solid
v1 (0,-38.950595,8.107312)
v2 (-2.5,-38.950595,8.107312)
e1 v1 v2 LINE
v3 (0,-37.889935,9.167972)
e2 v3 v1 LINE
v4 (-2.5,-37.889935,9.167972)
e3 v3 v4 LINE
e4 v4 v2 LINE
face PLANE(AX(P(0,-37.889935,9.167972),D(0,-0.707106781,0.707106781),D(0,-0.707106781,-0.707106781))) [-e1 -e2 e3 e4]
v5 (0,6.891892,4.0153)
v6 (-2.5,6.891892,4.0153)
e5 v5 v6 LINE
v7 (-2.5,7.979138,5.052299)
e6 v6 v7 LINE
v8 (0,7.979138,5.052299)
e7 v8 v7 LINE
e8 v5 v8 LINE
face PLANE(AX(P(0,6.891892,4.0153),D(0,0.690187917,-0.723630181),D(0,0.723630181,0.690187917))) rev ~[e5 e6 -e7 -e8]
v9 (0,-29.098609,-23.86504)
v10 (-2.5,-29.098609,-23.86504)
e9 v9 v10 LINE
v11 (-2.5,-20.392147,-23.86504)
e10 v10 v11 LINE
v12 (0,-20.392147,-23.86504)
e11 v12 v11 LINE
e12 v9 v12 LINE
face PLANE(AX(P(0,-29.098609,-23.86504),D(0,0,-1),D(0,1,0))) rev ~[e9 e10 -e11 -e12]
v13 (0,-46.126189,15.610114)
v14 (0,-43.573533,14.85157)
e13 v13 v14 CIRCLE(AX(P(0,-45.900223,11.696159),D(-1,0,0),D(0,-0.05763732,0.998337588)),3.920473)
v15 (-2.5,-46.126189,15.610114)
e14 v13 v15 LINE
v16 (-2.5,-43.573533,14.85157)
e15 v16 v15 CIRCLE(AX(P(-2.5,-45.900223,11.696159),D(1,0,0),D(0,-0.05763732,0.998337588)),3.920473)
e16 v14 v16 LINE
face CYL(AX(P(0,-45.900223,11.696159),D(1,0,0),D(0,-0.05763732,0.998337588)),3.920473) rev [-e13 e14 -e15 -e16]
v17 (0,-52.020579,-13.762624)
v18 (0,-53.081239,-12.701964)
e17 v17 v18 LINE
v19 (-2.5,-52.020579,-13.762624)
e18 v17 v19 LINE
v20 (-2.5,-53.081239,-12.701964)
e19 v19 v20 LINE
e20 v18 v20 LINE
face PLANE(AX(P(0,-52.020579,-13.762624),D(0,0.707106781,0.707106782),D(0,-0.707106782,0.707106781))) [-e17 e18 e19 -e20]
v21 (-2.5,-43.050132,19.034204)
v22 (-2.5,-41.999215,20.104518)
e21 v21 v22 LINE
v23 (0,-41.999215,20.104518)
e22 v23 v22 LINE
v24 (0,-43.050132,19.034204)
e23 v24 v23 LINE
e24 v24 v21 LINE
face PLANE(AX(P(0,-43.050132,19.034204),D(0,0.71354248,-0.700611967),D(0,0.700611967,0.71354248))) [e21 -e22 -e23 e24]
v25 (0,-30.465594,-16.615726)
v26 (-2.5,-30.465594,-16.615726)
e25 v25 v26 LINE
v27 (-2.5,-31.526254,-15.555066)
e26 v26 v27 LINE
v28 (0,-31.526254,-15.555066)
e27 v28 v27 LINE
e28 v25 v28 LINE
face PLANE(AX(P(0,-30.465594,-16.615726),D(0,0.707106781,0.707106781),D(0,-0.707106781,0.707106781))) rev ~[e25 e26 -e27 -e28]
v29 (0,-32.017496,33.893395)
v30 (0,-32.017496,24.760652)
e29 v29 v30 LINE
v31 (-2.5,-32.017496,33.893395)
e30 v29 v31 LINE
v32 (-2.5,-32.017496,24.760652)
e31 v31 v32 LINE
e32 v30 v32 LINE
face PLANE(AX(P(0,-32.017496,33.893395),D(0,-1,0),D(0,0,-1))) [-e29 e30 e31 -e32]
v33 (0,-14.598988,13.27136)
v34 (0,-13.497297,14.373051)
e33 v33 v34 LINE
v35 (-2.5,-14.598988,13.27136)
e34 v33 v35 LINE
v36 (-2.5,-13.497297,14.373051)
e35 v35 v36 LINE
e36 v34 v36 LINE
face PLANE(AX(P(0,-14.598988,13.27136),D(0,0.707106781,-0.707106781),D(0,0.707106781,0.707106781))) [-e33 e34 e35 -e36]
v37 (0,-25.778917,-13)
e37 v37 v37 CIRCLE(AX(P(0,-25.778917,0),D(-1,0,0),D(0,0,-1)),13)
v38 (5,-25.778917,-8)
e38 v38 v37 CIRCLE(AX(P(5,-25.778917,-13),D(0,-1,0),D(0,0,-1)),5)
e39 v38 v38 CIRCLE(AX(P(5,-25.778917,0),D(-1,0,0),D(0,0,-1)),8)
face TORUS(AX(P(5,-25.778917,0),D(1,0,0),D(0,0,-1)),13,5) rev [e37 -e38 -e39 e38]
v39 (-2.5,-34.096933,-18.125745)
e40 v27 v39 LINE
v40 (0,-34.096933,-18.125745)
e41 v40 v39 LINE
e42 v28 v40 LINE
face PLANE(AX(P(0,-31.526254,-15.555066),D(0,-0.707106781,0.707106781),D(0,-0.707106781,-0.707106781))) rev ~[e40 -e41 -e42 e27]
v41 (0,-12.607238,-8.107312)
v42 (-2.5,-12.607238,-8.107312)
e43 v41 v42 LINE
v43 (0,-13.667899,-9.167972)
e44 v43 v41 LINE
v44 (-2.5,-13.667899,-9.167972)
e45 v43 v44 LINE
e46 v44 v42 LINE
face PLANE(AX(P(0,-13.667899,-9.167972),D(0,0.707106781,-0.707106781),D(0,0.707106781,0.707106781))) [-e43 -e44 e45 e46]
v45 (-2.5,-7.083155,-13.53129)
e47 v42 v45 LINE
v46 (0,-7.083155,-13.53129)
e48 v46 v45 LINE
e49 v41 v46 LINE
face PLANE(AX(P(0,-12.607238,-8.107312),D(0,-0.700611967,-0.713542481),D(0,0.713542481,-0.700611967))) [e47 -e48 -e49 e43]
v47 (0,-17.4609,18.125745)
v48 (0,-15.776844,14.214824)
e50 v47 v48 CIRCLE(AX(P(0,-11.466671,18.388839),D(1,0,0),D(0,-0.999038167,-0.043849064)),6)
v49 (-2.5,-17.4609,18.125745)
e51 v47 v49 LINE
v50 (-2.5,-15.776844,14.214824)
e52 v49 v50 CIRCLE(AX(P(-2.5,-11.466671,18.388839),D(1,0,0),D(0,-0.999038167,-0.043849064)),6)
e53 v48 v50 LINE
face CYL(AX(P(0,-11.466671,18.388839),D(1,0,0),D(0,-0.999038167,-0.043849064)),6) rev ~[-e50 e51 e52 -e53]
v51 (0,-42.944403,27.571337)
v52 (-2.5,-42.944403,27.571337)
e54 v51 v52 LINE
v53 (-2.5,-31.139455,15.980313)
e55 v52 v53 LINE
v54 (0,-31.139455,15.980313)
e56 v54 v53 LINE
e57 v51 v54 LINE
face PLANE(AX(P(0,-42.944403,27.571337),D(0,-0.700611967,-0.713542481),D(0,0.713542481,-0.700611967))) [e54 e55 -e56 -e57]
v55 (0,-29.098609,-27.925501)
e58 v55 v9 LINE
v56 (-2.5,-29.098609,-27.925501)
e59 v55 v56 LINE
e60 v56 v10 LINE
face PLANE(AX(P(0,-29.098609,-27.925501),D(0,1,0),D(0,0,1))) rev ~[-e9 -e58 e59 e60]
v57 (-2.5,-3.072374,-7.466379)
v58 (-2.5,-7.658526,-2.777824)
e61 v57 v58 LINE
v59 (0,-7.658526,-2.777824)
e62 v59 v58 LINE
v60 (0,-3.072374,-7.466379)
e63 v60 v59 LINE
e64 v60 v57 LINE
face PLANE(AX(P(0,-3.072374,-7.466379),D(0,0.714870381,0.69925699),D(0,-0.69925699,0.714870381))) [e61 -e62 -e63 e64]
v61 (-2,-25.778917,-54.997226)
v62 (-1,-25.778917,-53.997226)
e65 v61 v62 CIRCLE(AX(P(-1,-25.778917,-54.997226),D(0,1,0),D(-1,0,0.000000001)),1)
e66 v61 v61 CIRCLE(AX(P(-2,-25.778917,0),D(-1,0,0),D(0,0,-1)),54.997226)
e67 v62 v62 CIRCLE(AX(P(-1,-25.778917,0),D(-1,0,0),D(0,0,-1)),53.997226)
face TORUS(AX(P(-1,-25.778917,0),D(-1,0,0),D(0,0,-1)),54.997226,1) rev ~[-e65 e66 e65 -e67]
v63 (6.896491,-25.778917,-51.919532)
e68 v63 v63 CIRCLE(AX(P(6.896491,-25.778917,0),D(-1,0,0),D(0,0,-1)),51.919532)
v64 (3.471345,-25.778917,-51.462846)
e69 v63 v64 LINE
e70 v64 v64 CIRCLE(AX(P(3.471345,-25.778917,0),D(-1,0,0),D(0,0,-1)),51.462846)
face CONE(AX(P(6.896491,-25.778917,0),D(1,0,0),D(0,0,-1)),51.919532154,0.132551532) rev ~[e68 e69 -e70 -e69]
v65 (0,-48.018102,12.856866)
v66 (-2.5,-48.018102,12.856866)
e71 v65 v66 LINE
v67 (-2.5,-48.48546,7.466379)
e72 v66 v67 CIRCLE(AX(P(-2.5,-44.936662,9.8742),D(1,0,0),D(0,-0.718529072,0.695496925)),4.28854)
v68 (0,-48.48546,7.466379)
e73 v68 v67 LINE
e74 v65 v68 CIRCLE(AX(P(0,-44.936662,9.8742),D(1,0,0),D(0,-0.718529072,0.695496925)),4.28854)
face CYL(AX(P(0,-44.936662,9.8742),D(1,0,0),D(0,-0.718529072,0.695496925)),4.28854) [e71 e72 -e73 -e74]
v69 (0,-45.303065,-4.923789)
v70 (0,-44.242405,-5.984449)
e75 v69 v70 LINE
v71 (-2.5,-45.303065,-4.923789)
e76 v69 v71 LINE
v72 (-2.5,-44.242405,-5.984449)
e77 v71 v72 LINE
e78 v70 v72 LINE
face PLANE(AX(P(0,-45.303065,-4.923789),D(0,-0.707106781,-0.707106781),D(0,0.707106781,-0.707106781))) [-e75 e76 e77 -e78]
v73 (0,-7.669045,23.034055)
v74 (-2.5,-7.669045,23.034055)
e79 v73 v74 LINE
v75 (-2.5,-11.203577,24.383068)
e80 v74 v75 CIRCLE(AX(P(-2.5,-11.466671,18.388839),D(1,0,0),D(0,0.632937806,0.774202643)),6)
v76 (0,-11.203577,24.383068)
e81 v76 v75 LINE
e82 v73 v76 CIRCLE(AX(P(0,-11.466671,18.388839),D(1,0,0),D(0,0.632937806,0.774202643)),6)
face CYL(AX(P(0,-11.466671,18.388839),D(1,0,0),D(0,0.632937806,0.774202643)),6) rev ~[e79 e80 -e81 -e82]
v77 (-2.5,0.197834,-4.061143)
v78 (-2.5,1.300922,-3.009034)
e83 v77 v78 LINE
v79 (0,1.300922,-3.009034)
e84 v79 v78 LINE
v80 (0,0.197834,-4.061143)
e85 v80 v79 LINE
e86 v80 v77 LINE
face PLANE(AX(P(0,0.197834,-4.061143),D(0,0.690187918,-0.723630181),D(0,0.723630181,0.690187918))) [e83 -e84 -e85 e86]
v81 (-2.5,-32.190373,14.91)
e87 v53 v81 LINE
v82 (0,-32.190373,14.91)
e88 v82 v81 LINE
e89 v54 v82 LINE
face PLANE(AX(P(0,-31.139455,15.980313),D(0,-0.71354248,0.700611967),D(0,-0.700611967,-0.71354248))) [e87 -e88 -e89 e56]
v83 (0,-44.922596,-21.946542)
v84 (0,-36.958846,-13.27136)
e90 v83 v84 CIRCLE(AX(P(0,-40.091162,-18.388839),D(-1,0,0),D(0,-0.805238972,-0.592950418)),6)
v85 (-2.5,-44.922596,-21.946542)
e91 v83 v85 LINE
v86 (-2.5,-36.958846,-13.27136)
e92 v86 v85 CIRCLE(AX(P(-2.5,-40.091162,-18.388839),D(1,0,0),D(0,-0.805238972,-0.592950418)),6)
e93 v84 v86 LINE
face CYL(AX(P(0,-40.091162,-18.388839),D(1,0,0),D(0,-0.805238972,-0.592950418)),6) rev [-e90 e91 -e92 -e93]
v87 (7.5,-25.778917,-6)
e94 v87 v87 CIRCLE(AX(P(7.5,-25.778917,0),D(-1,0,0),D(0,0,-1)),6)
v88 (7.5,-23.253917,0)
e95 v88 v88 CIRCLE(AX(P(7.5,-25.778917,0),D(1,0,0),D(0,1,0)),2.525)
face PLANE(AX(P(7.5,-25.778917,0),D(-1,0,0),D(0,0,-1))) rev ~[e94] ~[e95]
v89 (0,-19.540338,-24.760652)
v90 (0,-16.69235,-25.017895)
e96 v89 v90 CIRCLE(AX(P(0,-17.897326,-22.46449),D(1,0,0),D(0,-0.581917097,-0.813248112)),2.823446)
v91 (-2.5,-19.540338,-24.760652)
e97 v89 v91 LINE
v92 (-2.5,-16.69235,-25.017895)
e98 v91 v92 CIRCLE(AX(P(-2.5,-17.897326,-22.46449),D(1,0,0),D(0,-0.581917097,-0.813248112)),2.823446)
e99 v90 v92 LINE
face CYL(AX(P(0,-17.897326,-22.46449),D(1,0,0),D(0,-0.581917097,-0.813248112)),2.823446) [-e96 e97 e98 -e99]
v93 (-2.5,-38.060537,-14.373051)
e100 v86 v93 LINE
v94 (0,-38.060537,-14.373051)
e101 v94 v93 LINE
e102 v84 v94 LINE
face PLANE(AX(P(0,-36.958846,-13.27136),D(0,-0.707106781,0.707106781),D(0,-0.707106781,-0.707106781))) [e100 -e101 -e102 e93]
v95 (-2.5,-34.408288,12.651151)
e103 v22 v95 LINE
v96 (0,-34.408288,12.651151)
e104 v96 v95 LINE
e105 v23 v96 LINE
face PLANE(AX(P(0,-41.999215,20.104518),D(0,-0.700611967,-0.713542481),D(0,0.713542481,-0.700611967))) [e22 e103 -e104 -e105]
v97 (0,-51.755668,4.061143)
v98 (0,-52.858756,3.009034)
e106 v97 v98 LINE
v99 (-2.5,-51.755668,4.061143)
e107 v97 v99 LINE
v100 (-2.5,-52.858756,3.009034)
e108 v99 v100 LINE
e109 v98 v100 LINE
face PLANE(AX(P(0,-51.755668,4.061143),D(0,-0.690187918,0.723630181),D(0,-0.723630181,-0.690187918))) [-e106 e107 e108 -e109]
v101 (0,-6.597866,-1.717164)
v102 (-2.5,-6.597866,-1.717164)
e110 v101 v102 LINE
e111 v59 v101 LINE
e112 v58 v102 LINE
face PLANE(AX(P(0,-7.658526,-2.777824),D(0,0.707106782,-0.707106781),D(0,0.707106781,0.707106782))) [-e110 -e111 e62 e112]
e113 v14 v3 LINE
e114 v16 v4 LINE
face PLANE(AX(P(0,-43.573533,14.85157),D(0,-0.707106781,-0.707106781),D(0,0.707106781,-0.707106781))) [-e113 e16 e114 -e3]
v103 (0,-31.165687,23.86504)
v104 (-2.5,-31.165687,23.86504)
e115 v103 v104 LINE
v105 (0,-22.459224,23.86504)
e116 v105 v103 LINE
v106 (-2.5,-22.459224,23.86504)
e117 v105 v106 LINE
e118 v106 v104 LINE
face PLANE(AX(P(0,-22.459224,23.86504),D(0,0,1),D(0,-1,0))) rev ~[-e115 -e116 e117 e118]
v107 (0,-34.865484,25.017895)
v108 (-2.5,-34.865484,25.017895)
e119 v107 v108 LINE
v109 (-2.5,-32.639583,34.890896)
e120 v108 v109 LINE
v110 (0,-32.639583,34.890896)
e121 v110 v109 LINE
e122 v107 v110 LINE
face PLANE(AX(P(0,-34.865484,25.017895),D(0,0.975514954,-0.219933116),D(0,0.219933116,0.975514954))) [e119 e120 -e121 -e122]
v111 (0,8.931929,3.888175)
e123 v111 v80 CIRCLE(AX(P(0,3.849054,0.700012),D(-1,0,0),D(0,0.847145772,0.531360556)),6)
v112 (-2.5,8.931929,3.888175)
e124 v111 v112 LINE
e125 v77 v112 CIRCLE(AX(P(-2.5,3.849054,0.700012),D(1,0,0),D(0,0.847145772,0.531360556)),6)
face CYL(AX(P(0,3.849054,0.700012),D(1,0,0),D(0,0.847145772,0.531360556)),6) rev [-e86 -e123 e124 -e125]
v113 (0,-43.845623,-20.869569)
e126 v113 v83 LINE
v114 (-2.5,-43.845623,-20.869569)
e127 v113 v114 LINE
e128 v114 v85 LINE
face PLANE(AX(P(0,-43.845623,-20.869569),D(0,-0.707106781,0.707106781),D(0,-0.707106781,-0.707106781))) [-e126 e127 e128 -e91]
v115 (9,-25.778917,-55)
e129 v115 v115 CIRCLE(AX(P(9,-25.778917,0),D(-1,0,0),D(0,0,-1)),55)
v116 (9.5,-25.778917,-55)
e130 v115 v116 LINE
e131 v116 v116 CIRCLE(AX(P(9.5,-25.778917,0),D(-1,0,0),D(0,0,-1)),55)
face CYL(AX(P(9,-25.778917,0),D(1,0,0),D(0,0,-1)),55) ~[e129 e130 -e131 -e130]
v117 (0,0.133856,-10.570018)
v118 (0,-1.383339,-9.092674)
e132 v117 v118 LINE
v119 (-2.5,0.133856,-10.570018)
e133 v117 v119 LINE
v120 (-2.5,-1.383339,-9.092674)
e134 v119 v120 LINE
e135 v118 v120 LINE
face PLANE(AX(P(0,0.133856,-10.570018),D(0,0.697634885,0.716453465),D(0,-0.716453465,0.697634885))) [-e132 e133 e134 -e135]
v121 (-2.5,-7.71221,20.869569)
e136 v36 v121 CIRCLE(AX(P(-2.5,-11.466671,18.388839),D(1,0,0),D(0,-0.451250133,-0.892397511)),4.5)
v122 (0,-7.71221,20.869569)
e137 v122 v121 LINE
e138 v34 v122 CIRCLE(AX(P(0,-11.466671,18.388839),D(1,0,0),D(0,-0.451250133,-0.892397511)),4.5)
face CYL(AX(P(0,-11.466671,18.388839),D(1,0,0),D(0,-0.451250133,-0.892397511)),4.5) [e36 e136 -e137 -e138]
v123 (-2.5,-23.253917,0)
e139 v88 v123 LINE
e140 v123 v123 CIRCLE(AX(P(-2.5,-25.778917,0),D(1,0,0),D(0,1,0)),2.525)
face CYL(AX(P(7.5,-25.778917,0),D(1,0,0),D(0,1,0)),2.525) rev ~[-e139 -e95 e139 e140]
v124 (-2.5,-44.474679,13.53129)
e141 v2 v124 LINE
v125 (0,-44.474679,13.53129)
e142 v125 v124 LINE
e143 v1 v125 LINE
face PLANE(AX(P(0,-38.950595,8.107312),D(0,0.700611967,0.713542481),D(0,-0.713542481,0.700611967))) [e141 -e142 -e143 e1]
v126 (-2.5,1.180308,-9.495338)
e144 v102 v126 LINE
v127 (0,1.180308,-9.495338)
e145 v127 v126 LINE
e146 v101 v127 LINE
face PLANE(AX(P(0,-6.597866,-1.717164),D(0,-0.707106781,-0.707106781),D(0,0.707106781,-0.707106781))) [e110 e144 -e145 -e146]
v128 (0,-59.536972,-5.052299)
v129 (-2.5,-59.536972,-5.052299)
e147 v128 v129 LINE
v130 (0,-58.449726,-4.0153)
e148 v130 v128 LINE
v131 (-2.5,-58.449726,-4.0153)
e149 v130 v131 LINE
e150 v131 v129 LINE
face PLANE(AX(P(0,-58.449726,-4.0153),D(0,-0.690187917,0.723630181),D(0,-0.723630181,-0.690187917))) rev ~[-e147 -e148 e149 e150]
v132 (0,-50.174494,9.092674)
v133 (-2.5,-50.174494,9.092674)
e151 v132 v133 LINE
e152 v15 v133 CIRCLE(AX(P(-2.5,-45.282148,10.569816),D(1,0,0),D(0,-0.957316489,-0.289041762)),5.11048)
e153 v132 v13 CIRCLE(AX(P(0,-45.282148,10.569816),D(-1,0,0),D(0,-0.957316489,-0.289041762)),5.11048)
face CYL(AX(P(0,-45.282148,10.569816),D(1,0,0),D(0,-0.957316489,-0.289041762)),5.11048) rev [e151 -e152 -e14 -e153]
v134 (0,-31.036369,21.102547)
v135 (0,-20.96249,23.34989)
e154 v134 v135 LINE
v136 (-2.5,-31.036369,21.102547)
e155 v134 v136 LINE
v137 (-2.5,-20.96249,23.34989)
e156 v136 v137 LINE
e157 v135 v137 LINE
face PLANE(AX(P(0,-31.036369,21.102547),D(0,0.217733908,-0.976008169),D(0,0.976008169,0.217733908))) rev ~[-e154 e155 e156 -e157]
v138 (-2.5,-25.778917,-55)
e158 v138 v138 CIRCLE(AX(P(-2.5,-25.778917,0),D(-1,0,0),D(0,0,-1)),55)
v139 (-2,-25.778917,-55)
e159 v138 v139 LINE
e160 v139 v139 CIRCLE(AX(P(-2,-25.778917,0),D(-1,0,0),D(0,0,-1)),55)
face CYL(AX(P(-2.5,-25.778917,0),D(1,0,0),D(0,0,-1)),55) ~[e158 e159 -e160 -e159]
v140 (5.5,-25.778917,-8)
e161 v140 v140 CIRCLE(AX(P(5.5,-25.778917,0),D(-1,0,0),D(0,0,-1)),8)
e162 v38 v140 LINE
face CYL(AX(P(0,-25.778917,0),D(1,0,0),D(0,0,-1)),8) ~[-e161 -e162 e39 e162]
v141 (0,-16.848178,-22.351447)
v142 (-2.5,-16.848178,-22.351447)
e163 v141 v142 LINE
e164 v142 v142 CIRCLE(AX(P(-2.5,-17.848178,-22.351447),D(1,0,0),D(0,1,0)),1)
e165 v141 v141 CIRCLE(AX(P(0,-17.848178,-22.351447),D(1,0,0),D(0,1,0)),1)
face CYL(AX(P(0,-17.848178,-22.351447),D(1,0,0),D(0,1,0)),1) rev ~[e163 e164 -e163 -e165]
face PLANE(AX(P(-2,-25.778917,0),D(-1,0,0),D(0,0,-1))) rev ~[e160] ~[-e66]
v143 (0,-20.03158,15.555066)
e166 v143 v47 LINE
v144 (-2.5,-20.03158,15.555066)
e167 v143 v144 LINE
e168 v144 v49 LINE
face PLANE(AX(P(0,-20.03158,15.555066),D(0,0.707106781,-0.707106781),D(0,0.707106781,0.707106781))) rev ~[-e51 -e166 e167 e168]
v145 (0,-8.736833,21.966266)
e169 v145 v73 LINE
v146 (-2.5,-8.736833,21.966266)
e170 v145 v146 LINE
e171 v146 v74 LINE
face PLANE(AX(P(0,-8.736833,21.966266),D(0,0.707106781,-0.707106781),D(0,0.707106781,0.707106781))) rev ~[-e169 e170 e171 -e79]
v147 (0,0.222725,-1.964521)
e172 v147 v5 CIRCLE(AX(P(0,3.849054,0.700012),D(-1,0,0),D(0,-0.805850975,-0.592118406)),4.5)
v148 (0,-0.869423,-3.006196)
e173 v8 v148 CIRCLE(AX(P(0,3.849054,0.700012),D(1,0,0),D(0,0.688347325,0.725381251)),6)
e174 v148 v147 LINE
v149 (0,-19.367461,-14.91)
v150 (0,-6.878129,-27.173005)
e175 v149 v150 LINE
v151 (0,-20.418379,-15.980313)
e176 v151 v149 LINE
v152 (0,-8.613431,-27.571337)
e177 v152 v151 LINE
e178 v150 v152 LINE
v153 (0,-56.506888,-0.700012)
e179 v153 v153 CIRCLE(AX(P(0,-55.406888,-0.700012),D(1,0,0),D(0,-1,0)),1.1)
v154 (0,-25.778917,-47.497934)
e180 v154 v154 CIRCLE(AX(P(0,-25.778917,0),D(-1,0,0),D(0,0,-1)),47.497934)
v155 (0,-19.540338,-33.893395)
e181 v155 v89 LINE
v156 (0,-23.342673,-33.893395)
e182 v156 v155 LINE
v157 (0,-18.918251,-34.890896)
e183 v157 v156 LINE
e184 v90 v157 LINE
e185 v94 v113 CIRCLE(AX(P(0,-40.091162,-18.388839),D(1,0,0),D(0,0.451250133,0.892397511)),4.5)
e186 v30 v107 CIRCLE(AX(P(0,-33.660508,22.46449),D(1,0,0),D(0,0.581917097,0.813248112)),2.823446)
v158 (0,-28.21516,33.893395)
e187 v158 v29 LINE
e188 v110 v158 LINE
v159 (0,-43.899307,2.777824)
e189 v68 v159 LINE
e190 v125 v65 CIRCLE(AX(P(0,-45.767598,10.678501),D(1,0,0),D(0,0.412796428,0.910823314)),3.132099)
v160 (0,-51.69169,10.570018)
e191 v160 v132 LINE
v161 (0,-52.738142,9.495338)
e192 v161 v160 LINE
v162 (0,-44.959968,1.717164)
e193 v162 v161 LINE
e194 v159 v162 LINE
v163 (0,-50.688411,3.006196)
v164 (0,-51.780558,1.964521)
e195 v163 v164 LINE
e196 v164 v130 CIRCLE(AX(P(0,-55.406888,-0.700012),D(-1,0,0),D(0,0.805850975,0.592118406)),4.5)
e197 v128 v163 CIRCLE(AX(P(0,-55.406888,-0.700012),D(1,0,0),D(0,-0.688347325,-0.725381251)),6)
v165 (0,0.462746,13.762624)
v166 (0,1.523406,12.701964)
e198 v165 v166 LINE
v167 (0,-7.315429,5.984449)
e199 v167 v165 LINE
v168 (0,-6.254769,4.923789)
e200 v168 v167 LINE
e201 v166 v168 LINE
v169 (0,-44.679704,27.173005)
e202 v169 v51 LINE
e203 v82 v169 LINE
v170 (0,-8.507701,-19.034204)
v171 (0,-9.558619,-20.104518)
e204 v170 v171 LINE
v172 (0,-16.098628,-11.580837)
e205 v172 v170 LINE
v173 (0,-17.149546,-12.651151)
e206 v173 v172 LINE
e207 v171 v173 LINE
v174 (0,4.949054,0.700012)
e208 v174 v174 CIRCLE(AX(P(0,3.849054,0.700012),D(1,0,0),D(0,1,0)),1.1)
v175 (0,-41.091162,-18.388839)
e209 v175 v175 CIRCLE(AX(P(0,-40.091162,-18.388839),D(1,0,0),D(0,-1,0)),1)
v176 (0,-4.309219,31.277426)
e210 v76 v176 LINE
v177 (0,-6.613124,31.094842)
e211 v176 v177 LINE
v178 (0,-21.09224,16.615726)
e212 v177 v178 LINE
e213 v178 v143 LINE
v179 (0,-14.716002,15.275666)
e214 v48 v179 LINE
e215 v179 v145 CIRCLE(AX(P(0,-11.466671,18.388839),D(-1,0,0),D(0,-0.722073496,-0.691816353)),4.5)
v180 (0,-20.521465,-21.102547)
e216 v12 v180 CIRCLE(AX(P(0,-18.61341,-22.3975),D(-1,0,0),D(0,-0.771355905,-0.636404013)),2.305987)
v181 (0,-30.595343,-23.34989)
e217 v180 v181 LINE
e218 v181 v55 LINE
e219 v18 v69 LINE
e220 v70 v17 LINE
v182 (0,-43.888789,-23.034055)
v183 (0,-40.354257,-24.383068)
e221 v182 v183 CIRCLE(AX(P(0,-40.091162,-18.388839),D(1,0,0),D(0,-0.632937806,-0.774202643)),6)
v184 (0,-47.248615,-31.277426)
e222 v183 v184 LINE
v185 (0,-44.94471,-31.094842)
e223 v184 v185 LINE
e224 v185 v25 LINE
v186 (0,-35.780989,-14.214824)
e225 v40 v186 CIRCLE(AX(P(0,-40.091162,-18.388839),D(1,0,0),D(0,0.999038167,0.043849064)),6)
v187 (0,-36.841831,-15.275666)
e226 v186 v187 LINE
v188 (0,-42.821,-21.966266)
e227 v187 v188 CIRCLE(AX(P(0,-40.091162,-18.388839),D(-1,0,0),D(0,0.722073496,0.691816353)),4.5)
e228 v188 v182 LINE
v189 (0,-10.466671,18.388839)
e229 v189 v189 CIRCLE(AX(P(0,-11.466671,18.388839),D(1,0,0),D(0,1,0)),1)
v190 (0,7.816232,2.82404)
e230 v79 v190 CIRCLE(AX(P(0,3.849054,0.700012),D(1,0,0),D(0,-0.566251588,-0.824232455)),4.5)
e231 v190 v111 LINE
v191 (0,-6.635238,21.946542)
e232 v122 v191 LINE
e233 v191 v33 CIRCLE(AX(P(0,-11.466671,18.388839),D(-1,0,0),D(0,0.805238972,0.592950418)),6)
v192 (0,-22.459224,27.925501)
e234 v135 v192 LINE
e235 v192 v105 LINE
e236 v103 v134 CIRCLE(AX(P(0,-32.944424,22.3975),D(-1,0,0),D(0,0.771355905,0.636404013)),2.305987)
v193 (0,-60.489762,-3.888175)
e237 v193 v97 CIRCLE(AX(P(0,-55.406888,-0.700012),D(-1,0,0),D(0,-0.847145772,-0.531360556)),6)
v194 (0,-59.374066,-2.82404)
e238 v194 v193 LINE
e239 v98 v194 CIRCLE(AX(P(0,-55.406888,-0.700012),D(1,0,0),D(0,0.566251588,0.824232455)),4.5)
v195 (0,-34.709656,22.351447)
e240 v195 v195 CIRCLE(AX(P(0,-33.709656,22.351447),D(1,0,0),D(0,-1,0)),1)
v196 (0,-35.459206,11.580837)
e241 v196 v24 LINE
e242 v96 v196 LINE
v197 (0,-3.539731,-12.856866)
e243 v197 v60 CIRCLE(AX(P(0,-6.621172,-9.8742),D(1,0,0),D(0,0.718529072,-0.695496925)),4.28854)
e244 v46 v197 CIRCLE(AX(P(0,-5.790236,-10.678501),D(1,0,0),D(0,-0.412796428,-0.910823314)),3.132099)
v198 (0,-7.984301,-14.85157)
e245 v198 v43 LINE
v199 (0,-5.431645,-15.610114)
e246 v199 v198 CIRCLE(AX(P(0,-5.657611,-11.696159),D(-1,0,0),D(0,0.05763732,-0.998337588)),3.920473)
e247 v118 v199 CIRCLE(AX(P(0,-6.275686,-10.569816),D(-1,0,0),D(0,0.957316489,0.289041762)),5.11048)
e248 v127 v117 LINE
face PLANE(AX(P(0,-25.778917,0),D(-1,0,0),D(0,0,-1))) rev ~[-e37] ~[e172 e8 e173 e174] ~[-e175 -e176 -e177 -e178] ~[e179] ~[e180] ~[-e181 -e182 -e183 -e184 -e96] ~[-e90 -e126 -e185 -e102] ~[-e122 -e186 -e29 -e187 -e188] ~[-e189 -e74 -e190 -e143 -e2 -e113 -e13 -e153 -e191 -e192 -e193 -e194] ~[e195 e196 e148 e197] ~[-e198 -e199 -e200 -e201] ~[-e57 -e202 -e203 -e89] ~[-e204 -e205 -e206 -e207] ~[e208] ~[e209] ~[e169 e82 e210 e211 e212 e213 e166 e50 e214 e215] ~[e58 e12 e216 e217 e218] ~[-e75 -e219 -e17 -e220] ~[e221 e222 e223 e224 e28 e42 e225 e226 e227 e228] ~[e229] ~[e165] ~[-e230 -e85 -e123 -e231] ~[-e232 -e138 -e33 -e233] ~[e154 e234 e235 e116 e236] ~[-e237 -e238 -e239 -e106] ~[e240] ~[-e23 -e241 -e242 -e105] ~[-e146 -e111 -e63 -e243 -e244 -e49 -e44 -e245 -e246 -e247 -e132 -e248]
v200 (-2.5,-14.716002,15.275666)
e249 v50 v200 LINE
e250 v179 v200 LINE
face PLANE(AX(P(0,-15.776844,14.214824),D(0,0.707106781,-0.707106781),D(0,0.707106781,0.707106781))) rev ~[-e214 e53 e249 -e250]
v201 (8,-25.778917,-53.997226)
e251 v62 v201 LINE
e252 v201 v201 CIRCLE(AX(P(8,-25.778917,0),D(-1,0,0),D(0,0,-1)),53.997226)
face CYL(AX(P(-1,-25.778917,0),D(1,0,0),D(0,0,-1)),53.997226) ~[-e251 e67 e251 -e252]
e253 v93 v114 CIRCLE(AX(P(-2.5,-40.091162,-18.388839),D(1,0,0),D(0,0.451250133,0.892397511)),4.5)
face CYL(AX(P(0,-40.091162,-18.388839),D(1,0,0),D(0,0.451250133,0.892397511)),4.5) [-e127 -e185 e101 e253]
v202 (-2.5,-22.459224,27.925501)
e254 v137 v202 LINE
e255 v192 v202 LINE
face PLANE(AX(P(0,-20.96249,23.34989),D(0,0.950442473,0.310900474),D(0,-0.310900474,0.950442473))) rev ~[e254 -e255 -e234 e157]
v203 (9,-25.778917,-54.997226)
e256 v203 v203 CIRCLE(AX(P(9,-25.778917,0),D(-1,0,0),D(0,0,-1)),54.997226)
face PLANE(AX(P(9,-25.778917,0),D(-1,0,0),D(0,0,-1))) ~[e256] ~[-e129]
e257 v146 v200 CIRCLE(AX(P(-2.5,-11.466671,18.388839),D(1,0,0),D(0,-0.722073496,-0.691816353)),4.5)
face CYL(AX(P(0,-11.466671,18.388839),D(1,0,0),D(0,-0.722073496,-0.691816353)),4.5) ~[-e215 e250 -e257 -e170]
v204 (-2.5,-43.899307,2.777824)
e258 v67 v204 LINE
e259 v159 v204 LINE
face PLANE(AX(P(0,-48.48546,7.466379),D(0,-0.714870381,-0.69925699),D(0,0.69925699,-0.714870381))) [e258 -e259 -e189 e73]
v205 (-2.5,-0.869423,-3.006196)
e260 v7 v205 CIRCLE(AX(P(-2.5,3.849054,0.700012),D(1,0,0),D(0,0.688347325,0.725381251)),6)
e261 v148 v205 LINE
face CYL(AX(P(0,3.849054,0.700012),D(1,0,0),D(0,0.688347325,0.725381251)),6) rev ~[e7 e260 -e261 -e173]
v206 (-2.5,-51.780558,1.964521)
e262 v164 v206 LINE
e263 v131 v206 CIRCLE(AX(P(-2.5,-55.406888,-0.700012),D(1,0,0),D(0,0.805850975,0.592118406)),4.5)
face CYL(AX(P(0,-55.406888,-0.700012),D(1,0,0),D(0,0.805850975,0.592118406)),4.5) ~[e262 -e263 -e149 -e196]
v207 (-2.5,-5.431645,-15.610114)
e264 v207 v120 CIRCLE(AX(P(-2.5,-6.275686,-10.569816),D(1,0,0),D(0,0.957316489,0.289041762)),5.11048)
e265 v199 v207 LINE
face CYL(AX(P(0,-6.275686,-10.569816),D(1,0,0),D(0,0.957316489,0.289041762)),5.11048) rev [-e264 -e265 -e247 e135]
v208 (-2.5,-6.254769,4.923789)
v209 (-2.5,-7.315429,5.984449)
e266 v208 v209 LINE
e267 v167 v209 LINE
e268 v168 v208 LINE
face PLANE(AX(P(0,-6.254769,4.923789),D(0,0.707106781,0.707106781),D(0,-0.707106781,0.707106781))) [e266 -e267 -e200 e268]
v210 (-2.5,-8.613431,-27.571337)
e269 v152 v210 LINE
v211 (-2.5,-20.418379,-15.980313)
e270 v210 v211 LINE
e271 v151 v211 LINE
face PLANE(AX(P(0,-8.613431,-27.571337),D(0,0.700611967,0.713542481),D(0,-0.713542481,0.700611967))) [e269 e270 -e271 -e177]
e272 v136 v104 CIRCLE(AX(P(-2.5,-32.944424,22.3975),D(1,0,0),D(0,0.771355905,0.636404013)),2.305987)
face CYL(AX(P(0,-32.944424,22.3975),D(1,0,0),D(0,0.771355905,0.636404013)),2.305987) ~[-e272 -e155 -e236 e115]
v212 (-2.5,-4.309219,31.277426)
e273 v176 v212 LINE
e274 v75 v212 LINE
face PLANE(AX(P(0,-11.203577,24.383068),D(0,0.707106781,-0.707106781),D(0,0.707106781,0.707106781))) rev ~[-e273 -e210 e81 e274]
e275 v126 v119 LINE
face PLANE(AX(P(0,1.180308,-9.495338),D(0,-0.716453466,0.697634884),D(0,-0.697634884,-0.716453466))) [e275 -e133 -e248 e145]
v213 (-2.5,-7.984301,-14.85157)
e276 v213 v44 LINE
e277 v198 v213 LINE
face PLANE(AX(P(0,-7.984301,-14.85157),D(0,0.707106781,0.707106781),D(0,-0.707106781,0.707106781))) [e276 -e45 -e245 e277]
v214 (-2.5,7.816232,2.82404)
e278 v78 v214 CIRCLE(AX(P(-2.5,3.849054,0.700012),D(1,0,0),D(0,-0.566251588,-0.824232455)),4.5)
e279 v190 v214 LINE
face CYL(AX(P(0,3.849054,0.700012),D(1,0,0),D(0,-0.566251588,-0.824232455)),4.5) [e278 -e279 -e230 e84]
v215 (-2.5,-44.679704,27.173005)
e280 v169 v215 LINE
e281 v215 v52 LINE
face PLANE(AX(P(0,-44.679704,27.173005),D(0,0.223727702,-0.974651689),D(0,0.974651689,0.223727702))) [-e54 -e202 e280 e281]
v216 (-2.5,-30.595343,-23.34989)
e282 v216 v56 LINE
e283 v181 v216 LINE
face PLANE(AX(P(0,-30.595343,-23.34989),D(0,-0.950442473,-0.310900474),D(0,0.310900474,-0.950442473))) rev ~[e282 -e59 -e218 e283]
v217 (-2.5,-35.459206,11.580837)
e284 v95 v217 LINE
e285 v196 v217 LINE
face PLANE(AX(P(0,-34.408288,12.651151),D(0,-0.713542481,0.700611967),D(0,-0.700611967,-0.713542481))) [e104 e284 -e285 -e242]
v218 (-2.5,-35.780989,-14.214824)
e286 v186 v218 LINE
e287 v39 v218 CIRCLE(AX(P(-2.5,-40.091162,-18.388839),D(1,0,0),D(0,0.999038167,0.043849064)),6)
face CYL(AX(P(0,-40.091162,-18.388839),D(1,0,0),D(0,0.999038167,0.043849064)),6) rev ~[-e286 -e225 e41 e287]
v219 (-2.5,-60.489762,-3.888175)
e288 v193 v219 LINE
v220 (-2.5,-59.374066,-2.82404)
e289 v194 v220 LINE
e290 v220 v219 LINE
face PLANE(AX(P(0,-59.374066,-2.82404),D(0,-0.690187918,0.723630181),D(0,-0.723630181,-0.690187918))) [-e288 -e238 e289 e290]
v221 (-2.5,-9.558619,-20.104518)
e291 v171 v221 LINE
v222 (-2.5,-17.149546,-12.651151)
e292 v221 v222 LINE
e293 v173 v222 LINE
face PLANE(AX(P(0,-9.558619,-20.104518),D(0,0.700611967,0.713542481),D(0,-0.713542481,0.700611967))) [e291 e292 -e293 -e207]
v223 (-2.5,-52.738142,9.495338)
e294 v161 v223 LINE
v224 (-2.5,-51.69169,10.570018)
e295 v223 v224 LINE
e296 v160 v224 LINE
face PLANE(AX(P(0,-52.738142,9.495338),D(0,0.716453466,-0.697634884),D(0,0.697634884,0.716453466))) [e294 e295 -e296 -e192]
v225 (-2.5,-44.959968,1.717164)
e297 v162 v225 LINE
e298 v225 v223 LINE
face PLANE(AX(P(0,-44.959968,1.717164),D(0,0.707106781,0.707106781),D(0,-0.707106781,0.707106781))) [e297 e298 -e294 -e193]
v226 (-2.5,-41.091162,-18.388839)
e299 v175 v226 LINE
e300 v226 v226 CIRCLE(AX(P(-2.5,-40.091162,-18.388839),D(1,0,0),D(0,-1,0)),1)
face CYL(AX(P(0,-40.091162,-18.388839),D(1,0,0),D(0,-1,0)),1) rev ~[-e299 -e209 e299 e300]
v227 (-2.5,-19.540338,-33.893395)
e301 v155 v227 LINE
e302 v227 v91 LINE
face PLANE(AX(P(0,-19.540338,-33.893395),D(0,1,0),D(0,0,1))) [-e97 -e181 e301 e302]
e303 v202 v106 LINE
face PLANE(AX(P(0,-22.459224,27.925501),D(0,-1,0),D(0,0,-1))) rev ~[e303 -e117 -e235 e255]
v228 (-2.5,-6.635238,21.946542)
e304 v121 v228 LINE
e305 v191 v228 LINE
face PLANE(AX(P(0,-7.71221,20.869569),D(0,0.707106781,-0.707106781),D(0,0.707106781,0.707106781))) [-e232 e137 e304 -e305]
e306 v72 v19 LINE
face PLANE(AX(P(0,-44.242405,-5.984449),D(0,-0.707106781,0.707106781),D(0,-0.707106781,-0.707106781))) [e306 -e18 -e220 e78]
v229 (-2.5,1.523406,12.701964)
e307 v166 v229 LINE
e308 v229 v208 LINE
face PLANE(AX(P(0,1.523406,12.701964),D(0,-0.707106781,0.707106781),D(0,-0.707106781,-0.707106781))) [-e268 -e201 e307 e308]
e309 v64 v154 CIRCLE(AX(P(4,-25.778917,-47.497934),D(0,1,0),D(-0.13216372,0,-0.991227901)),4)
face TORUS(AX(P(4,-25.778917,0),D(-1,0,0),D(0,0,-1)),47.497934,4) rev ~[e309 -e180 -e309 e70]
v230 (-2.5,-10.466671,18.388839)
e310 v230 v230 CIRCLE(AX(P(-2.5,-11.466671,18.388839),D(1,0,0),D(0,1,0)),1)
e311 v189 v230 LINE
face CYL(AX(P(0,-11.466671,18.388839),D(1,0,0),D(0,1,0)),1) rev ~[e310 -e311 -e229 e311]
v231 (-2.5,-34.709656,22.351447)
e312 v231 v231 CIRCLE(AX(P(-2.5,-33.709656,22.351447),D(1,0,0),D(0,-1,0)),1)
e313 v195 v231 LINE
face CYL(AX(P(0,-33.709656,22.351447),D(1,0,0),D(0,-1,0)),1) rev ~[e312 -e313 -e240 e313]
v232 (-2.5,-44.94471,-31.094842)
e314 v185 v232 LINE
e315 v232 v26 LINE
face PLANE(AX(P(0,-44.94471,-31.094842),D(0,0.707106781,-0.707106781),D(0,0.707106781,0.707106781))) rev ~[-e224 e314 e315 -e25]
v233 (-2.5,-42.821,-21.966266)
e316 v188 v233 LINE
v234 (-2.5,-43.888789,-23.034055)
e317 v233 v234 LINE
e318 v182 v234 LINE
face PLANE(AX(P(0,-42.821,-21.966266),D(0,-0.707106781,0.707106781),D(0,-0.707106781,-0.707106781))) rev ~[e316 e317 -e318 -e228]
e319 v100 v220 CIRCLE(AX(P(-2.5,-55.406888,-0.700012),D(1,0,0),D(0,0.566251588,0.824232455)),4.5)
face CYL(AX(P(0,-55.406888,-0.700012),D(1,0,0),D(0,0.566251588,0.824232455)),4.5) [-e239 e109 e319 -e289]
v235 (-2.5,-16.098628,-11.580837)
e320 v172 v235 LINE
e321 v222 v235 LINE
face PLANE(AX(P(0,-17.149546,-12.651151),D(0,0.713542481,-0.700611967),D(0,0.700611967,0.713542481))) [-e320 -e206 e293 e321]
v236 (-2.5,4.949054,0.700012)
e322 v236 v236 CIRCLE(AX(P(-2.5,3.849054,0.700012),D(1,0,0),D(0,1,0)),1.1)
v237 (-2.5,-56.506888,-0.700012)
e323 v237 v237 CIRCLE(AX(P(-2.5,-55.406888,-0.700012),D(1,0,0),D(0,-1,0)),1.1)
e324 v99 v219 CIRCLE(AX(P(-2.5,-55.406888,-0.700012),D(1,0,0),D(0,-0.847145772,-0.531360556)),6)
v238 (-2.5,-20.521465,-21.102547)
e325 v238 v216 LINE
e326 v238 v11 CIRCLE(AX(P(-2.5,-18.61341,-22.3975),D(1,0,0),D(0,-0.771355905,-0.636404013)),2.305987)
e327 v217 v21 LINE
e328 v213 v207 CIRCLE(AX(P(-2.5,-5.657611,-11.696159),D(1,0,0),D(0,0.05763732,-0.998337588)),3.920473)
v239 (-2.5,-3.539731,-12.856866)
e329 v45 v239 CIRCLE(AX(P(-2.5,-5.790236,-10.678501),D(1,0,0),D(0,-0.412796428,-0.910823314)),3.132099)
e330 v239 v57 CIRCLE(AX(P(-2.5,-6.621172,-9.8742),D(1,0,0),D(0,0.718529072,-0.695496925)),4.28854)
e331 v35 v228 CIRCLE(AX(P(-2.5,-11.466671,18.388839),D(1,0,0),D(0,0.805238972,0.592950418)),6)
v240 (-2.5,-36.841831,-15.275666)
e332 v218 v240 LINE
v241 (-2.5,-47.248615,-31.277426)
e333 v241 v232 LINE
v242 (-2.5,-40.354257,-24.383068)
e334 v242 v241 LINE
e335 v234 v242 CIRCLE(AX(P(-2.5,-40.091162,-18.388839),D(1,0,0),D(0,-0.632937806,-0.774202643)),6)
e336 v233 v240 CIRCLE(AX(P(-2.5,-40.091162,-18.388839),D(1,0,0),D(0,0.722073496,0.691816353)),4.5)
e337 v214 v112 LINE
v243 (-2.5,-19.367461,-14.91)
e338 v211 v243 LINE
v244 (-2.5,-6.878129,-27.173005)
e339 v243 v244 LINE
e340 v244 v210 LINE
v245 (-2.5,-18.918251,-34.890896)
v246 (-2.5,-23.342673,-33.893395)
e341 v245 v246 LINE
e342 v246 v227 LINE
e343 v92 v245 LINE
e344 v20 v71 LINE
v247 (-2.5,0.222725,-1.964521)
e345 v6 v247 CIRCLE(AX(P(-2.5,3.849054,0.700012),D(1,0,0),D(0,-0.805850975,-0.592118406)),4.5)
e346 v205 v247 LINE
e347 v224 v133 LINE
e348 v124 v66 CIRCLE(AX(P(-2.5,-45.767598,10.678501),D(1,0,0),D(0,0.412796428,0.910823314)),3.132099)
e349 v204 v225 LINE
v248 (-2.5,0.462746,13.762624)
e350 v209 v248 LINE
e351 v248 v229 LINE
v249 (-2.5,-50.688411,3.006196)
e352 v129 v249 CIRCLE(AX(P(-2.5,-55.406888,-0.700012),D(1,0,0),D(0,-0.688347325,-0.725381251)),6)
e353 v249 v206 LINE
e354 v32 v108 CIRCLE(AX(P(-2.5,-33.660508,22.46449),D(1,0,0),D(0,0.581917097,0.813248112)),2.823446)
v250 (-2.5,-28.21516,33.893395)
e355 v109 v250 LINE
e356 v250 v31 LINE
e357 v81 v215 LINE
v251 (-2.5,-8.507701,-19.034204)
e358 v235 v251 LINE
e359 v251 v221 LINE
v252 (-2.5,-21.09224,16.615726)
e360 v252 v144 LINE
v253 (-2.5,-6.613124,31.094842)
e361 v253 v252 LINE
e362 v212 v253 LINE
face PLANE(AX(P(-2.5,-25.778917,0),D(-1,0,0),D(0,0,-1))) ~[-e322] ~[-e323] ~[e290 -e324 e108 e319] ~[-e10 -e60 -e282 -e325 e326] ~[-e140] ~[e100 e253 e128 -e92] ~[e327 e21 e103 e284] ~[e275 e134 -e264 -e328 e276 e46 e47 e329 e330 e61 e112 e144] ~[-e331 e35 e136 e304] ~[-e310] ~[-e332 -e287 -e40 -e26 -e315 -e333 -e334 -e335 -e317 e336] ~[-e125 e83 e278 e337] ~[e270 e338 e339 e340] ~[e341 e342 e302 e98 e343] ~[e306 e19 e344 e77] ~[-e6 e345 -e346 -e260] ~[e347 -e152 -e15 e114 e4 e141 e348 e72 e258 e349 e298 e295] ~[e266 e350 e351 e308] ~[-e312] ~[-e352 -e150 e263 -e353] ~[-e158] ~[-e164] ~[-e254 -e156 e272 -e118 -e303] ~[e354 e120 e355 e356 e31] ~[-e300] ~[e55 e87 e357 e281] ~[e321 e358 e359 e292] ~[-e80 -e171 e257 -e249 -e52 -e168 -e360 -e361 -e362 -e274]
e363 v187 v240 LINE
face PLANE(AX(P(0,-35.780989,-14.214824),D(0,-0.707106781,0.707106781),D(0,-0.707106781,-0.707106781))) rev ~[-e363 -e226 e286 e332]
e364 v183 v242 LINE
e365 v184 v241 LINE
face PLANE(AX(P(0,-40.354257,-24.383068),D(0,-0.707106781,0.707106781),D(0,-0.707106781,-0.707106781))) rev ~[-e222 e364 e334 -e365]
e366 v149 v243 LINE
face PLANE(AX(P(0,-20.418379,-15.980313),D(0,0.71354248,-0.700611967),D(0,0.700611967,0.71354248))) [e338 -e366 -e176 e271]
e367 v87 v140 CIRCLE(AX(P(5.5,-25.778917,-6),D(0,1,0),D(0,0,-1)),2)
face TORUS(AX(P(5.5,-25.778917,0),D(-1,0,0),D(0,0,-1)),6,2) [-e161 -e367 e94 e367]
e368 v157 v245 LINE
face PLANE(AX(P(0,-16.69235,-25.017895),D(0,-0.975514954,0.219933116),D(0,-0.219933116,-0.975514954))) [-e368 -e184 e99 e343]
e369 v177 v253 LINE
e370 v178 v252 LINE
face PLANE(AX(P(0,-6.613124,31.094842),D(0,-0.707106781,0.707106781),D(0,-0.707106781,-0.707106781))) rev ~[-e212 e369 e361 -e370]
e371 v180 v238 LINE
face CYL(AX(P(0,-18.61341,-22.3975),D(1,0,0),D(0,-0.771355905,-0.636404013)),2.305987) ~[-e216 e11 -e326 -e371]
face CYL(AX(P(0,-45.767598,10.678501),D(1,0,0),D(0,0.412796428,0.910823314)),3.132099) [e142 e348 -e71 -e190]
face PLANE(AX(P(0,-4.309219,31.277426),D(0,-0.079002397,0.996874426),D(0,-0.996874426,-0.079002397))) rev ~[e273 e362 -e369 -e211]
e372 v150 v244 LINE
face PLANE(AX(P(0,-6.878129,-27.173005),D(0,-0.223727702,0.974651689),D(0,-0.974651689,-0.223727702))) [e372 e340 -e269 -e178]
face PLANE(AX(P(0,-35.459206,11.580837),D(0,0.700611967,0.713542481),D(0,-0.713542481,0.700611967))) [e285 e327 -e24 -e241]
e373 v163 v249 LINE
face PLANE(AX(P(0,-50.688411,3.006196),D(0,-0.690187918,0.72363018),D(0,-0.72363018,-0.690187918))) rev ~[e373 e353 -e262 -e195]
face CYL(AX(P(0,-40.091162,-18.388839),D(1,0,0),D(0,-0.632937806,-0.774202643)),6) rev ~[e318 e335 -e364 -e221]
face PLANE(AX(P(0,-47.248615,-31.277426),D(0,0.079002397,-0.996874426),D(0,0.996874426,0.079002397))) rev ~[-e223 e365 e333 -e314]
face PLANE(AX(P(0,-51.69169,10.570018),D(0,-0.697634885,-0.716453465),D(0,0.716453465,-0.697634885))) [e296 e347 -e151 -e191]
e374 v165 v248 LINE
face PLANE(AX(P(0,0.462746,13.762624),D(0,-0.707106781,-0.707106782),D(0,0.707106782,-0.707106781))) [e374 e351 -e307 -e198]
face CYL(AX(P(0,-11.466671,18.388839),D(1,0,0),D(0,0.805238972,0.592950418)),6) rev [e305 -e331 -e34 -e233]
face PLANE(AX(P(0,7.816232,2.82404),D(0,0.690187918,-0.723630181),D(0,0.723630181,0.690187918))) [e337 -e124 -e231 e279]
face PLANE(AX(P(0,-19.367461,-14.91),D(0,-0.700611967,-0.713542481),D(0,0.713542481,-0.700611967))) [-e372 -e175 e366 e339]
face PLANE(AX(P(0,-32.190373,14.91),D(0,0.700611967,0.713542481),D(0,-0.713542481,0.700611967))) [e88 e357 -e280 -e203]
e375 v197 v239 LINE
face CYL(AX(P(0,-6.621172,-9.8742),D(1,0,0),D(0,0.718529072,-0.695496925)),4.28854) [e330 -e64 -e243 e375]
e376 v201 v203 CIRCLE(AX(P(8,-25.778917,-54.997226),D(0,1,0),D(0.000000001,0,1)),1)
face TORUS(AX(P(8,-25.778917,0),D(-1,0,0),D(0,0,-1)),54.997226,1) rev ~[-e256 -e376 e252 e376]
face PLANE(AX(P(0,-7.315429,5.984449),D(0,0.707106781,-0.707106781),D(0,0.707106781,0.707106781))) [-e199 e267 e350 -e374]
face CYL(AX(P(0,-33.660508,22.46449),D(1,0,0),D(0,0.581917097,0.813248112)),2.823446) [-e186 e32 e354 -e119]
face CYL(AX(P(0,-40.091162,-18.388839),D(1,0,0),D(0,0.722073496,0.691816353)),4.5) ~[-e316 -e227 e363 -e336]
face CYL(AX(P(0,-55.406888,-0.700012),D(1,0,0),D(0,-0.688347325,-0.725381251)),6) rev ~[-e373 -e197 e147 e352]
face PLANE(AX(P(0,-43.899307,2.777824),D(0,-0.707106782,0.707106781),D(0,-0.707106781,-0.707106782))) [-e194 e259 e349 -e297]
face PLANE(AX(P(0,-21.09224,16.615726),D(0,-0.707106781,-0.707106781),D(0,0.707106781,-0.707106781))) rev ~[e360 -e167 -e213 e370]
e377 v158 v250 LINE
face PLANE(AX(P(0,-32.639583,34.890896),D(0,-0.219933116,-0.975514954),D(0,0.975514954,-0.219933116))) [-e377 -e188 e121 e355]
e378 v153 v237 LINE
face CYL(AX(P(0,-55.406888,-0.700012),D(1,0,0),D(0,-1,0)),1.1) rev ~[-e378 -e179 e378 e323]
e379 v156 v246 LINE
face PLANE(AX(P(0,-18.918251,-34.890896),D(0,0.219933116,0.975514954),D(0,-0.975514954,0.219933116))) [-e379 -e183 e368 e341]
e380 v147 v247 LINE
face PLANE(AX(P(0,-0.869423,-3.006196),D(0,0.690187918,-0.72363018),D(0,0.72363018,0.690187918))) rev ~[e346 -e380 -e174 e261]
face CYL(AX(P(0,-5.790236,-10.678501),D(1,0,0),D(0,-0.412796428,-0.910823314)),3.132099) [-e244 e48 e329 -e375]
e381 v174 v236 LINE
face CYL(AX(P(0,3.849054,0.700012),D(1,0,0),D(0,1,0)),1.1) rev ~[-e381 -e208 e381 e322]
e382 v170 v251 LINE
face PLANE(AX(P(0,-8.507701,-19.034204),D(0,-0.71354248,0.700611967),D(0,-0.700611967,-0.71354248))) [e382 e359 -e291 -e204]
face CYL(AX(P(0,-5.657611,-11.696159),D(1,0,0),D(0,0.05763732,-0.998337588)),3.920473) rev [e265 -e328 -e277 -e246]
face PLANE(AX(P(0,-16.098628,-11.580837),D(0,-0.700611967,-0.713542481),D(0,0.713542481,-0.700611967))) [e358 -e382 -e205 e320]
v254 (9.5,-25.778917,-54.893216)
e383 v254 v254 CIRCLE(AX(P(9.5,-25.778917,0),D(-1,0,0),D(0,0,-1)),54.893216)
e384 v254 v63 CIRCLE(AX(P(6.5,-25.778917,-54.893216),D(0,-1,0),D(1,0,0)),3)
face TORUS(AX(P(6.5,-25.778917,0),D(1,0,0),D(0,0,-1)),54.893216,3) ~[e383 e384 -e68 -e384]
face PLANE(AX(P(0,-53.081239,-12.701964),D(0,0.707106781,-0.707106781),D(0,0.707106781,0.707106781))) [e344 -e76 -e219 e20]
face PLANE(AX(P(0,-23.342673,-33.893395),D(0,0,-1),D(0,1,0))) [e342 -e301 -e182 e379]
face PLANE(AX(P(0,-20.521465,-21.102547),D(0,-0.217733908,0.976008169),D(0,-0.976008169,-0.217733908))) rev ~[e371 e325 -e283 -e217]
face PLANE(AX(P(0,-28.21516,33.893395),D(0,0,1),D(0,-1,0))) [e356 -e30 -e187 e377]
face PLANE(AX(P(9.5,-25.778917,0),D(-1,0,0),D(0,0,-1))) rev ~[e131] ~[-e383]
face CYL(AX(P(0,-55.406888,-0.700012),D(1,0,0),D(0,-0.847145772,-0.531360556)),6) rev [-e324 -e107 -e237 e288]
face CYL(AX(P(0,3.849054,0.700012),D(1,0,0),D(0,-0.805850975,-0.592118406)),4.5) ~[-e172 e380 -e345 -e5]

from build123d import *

# Parameters (mm, degrees)
SZKIC4_R                   = 2.525
WYTNIJ_WYCI_GNI_CIE8_DEPTH = 99.235601501
SZKIC5_R                   = 1
SZKIC5_R_2                 = 1.1
WYTNIJ_WYCI_GNI_CIE9_DEPTH = 99.185963366
ZAOKR_GLENIE1_R            = 2
ZAOKR_GLENIE4_R            = 5
SZYK_KO_OWY1_COUNT         = 2


with BuildPart() as part:
    # Szkic1 → Obrót1 (revolve)
    with BuildSketch(Plane.XY, mode=Mode.PRIVATE) as obr_t1_sk:
        with BuildLine():
            Line((7.5, -25.778916817), (-2.5, -25.778916817))
            Line((-2.5, -25.778916817), (-2.5, 29.221083183))
            Line((-2.5, 29.221083183), (-2, 29.221083183))
            Line((-2, 29.221083183), (-2, 29.218308719))
            ThreePointArc((-2, 29.218308719), (-1.707106781, 28.511201938), (-1, 28.218308719))
            Line((-1, 28.218308719), (8, 28.218308719))
            ThreePointArc((8, 28.218308719), (8.707106781, 28.511201938), (9, 29.218308719))
            Line((9, 29.218308719), (9, 29.221083183))
            Line((9, 29.221083183), (9.5, 29.221083183))
            Line((9.5, 29.221083183), (9.5, 29.114299039))
            ThreePointArc((9.5, 29.114299039), (8.757152352, 27.138125145), (6.89649116, 26.140615337))
            Line((6.89649116, 26.140615337), (3.47134512, 25.683929199))
            ThreePointArc((3.47134512, 25.683929199), (0.990463531, 24.353916121), (0, 21.719017596))
            Line((0, 21.719017596), (0, -17.778916817))
            Line((0, -17.778916817), (7.5, -17.778916817))
            Line((7.5, -17.778916817), (7.5, -25.778916817))
        make_face()
    revolve(obr_t1_sk.sketch.rotate(Axis((7.5, -25.778916817, 0), (-1, 0, 0)), 90), axis=Axis((7.5, -25.778916817, 0), (-1, 0, 0)))

    # Szkic4 → Wytnij-wyciągnięcie8 (cut, through all)
    with BuildSketch(Plane(origin=(7.5, 0, 0), x_dir=(0, 0, -1), z_dir=(1, 0, 0))):
        with Locations(Location((0, -25.778916817, 0), (0, 0, 90))):
            Circle(SZKIC4_R)
    extrude(amount=-WYTNIJ_WYCI_GNI_CIE8_DEPTH, mode=Mode.SUBTRACT)

    # Szkic5 → Wytnij-wyciągnięcie9 (cut, through all)
    with BuildSketch(Plane(origin=(0, 0, 0), x_dir=(0, 0, -1), z_dir=(1, 0, 0))):
        with Locations(Location((-18.388839437, -11.466671405, 0), (0, 0, 90))):
            Circle(SZKIC5_R)
        with Locations(Location((-0.700011726, 3.849054119, 0), (0, 0, 90))):
            Circle(SZKIC5_R_2)
        with Locations(Location((22.351446627, -17.848177907, 0), (0, 0, 90))):
            Circle(SZKIC5_R)
        with BuildLine():
            Line((-31.094841687, -6.613124119), (-16.615725978, -21.092239828))
            Line((-16.615725978, -21.092239828), (-15.555065806, -20.031579656))
            Line((-15.555065806, -20.031579656), (-18.125745054, -17.460900408))
            ThreePointArc((-18.125745054, -17.460900408), (-16.01586704, -16.97747915), (-14.214823562, -15.776844426))
            Line((-14.214823562, -15.776844426), (-15.27566585, -14.716002138))
            ThreePointArc((-15.27566585, -14.716002138), (-21.387422035, -14.822040596), (-21.966266492, -8.736833375))
            Line((-21.966266492, -8.736833375), (-23.034055299, -7.669044568))
            ThreePointArc((-23.034055299, -7.669044568), (-23.994432776, -9.327203406), (-24.38306844, -11.203577022))
            Line((-24.38306844, -11.203577022), (-31.277426391, -4.309219071))
            Line((-31.277426391, -4.309219071), (-31.094841687, -6.613124119))
        make_face()
        Polygon((-13.762623938, 0.462745665), (-12.701963767, 1.523405837), (-4.923789174, -6.254768757), (-5.984449345, -7.315428928), align=None)
        with BuildLine():
            Line((2.777823766, -7.658526292), (1.717163594, -6.597866121))
            Line((1.717163594, -6.597866121), (9.495338187, 1.180308472))
            Line((9.495338187, 1.180308472), (10.570018386, 0.133856146))
            Line((10.570018386, 0.133856146), (9.092674077, -1.383339271))
            ThreePointArc((9.092674077, -1.383339271), (13.266335097, -1.934512068), (15.610113794, -5.431645063))
            ThreePointArc((15.610113794, -5.431645063), (15.454216267, -6.774350594), (14.851569634, -7.984300683))
            Line((14.851569634, -7.984300683), (9.16797181, -13.667898507))
            Line((9.16797181, -13.667898507), (8.107311638, -12.607238335))
            Line((8.107311638, -12.607238335), (13.531289778, -7.083155107))
            ThreePointArc((13.531289778, -7.083155107), (13.755364684, -5.204613003), (12.856866184, -3.539731492))
            ThreePointArc((12.856866184, -3.539731492), (10.244628749, -2.348660318), (7.466378572, -3.072373603))
            Line((7.466378572, -3.072373603), (2.777823766, -7.658526292))
        make_face()
        Polygon((19.034204321, -8.50770115), (20.104518041, -9.558619101), (12.651151004, -17.149545682), (11.580837283, -16.098627732), align=None)
        Polygon((14.909999771, -19.367460552), (27.173004637, -6.878129336), (27.57133674, -8.613431014), (15.980313491, -20.418378503), align=None)
        with BuildLine():
            Line((25.017895383, -16.692349683), (34.890895944, -18.91825075))
            Line((34.890895944, -18.91825075), (33.893395016, -23.342673454))
            Line((33.893395016, -23.342673454), (33.893395016, -19.540337611))
            Line((33.893395016, -19.540337611), (24.76065193, -19.540337611))
            ThreePointArc((24.76065193, -19.540337611), (25.276488263, -18.151318663), (25.017895383, -16.692349683))
        make_face()
        with BuildLine():
            Line((21.102547463, -20.521464819), (23.349890256, -30.595343288))
            Line((23.349890256, -30.595343288), (27.925501355, -29.098609188))
            Line((27.925501355, -29.098609188), (23.865039811, -29.098609188))
            Line((23.865039811, -29.098609188), (23.865039811, -20.39214657))
            ThreePointArc((23.865039811, -20.39214657), (22.505330451, -20.916874434), (21.102547463, -20.521464819))
        make_face()
        with BuildLine():
            Line((-13.271360049, -14.598987595), (-14.373050639, -13.497297005))
            ThreePointArc((-14.373050639, -13.497297005), (-15.396196984, -8.106003146), (-20.869569347, -7.712210177))
            Line((-20.869569347, -7.712210177), (-21.946541948, -6.635237576))
            ThreePointArc((-21.946541948, -6.635237576), (-14.331308837, -7.046666266), (-13.271360049, -14.598987595))
        make_face()
        with BuildLine():
            Line((-2.824040128, 7.816232379), (-3.888175064, 8.931928751))
            ThreePointArc((-3.888175064, 8.931928751), (3.737293337, 7.887658306), (4.061143089, 0.197834483))
            Line((4.061143089, 0.197834483), (3.00903432, 1.300921974))
            ThreePointArc((3.00903432, 1.300921974), (2.65265701, 6.85065575), (-2.824040128, 7.816232379))
        make_face()
        with BuildLine():
            Line((-4.015299992, 6.89189222), (-5.052299234, 7.97913807))
            ThreePointArc((-5.052299234, 7.97913807), (-5.136070021, -0.190919494), (3.006195703, -0.869423018))
            Line((3.006195703, -0.869423018), (1.964521099, 0.222724732))
            ThreePointArc((1.964521099, 0.222724732), (-4.050432507, 0.844943504), (-4.015299992, 6.89189222))
        make_face()
    wytnij_wyci_gni_cie9 = extrude(amount=-WYTNIJ_WYCI_GNI_CIE9_DEPTH, mode=Mode.SUBTRACT)

    # Zaokrąglenie1
    zaokr_glenie1_edges = [part.edges().sort_by_distance(p)[0] for p in [
        (7.5, -25.778916817, 8),
    ]]
    fillet(zaokr_glenie1_edges, radius=ZAOKR_GLENIE1_R)

    # Zaokrąglenie4
    zaokr_glenie4_edges = [part.edges().sort_by_distance(p)[0] for p in [
        (0, -25.778916817, 8),
    ]]
    fillet(zaokr_glenie4_edges, radius=ZAOKR_GLENIE4_R)

    # Szyk kołowy1: Wytnij-wyciągnięcie9 ×2 about axis
    szyk_ko_owy1_axis = Axis((0, -25.778916817, 0), (1, 0, 0))
    for i in range(1, SZYK_KO_OWY1_COUNT):
        add(wytnij_wyci_gni_cie9.rotate(szyk_ko_owy1_axis, i * 360 / SZYK_KO_OWY1_COUNT), mode=Mode.SUBTRACT)


solid = part.part
